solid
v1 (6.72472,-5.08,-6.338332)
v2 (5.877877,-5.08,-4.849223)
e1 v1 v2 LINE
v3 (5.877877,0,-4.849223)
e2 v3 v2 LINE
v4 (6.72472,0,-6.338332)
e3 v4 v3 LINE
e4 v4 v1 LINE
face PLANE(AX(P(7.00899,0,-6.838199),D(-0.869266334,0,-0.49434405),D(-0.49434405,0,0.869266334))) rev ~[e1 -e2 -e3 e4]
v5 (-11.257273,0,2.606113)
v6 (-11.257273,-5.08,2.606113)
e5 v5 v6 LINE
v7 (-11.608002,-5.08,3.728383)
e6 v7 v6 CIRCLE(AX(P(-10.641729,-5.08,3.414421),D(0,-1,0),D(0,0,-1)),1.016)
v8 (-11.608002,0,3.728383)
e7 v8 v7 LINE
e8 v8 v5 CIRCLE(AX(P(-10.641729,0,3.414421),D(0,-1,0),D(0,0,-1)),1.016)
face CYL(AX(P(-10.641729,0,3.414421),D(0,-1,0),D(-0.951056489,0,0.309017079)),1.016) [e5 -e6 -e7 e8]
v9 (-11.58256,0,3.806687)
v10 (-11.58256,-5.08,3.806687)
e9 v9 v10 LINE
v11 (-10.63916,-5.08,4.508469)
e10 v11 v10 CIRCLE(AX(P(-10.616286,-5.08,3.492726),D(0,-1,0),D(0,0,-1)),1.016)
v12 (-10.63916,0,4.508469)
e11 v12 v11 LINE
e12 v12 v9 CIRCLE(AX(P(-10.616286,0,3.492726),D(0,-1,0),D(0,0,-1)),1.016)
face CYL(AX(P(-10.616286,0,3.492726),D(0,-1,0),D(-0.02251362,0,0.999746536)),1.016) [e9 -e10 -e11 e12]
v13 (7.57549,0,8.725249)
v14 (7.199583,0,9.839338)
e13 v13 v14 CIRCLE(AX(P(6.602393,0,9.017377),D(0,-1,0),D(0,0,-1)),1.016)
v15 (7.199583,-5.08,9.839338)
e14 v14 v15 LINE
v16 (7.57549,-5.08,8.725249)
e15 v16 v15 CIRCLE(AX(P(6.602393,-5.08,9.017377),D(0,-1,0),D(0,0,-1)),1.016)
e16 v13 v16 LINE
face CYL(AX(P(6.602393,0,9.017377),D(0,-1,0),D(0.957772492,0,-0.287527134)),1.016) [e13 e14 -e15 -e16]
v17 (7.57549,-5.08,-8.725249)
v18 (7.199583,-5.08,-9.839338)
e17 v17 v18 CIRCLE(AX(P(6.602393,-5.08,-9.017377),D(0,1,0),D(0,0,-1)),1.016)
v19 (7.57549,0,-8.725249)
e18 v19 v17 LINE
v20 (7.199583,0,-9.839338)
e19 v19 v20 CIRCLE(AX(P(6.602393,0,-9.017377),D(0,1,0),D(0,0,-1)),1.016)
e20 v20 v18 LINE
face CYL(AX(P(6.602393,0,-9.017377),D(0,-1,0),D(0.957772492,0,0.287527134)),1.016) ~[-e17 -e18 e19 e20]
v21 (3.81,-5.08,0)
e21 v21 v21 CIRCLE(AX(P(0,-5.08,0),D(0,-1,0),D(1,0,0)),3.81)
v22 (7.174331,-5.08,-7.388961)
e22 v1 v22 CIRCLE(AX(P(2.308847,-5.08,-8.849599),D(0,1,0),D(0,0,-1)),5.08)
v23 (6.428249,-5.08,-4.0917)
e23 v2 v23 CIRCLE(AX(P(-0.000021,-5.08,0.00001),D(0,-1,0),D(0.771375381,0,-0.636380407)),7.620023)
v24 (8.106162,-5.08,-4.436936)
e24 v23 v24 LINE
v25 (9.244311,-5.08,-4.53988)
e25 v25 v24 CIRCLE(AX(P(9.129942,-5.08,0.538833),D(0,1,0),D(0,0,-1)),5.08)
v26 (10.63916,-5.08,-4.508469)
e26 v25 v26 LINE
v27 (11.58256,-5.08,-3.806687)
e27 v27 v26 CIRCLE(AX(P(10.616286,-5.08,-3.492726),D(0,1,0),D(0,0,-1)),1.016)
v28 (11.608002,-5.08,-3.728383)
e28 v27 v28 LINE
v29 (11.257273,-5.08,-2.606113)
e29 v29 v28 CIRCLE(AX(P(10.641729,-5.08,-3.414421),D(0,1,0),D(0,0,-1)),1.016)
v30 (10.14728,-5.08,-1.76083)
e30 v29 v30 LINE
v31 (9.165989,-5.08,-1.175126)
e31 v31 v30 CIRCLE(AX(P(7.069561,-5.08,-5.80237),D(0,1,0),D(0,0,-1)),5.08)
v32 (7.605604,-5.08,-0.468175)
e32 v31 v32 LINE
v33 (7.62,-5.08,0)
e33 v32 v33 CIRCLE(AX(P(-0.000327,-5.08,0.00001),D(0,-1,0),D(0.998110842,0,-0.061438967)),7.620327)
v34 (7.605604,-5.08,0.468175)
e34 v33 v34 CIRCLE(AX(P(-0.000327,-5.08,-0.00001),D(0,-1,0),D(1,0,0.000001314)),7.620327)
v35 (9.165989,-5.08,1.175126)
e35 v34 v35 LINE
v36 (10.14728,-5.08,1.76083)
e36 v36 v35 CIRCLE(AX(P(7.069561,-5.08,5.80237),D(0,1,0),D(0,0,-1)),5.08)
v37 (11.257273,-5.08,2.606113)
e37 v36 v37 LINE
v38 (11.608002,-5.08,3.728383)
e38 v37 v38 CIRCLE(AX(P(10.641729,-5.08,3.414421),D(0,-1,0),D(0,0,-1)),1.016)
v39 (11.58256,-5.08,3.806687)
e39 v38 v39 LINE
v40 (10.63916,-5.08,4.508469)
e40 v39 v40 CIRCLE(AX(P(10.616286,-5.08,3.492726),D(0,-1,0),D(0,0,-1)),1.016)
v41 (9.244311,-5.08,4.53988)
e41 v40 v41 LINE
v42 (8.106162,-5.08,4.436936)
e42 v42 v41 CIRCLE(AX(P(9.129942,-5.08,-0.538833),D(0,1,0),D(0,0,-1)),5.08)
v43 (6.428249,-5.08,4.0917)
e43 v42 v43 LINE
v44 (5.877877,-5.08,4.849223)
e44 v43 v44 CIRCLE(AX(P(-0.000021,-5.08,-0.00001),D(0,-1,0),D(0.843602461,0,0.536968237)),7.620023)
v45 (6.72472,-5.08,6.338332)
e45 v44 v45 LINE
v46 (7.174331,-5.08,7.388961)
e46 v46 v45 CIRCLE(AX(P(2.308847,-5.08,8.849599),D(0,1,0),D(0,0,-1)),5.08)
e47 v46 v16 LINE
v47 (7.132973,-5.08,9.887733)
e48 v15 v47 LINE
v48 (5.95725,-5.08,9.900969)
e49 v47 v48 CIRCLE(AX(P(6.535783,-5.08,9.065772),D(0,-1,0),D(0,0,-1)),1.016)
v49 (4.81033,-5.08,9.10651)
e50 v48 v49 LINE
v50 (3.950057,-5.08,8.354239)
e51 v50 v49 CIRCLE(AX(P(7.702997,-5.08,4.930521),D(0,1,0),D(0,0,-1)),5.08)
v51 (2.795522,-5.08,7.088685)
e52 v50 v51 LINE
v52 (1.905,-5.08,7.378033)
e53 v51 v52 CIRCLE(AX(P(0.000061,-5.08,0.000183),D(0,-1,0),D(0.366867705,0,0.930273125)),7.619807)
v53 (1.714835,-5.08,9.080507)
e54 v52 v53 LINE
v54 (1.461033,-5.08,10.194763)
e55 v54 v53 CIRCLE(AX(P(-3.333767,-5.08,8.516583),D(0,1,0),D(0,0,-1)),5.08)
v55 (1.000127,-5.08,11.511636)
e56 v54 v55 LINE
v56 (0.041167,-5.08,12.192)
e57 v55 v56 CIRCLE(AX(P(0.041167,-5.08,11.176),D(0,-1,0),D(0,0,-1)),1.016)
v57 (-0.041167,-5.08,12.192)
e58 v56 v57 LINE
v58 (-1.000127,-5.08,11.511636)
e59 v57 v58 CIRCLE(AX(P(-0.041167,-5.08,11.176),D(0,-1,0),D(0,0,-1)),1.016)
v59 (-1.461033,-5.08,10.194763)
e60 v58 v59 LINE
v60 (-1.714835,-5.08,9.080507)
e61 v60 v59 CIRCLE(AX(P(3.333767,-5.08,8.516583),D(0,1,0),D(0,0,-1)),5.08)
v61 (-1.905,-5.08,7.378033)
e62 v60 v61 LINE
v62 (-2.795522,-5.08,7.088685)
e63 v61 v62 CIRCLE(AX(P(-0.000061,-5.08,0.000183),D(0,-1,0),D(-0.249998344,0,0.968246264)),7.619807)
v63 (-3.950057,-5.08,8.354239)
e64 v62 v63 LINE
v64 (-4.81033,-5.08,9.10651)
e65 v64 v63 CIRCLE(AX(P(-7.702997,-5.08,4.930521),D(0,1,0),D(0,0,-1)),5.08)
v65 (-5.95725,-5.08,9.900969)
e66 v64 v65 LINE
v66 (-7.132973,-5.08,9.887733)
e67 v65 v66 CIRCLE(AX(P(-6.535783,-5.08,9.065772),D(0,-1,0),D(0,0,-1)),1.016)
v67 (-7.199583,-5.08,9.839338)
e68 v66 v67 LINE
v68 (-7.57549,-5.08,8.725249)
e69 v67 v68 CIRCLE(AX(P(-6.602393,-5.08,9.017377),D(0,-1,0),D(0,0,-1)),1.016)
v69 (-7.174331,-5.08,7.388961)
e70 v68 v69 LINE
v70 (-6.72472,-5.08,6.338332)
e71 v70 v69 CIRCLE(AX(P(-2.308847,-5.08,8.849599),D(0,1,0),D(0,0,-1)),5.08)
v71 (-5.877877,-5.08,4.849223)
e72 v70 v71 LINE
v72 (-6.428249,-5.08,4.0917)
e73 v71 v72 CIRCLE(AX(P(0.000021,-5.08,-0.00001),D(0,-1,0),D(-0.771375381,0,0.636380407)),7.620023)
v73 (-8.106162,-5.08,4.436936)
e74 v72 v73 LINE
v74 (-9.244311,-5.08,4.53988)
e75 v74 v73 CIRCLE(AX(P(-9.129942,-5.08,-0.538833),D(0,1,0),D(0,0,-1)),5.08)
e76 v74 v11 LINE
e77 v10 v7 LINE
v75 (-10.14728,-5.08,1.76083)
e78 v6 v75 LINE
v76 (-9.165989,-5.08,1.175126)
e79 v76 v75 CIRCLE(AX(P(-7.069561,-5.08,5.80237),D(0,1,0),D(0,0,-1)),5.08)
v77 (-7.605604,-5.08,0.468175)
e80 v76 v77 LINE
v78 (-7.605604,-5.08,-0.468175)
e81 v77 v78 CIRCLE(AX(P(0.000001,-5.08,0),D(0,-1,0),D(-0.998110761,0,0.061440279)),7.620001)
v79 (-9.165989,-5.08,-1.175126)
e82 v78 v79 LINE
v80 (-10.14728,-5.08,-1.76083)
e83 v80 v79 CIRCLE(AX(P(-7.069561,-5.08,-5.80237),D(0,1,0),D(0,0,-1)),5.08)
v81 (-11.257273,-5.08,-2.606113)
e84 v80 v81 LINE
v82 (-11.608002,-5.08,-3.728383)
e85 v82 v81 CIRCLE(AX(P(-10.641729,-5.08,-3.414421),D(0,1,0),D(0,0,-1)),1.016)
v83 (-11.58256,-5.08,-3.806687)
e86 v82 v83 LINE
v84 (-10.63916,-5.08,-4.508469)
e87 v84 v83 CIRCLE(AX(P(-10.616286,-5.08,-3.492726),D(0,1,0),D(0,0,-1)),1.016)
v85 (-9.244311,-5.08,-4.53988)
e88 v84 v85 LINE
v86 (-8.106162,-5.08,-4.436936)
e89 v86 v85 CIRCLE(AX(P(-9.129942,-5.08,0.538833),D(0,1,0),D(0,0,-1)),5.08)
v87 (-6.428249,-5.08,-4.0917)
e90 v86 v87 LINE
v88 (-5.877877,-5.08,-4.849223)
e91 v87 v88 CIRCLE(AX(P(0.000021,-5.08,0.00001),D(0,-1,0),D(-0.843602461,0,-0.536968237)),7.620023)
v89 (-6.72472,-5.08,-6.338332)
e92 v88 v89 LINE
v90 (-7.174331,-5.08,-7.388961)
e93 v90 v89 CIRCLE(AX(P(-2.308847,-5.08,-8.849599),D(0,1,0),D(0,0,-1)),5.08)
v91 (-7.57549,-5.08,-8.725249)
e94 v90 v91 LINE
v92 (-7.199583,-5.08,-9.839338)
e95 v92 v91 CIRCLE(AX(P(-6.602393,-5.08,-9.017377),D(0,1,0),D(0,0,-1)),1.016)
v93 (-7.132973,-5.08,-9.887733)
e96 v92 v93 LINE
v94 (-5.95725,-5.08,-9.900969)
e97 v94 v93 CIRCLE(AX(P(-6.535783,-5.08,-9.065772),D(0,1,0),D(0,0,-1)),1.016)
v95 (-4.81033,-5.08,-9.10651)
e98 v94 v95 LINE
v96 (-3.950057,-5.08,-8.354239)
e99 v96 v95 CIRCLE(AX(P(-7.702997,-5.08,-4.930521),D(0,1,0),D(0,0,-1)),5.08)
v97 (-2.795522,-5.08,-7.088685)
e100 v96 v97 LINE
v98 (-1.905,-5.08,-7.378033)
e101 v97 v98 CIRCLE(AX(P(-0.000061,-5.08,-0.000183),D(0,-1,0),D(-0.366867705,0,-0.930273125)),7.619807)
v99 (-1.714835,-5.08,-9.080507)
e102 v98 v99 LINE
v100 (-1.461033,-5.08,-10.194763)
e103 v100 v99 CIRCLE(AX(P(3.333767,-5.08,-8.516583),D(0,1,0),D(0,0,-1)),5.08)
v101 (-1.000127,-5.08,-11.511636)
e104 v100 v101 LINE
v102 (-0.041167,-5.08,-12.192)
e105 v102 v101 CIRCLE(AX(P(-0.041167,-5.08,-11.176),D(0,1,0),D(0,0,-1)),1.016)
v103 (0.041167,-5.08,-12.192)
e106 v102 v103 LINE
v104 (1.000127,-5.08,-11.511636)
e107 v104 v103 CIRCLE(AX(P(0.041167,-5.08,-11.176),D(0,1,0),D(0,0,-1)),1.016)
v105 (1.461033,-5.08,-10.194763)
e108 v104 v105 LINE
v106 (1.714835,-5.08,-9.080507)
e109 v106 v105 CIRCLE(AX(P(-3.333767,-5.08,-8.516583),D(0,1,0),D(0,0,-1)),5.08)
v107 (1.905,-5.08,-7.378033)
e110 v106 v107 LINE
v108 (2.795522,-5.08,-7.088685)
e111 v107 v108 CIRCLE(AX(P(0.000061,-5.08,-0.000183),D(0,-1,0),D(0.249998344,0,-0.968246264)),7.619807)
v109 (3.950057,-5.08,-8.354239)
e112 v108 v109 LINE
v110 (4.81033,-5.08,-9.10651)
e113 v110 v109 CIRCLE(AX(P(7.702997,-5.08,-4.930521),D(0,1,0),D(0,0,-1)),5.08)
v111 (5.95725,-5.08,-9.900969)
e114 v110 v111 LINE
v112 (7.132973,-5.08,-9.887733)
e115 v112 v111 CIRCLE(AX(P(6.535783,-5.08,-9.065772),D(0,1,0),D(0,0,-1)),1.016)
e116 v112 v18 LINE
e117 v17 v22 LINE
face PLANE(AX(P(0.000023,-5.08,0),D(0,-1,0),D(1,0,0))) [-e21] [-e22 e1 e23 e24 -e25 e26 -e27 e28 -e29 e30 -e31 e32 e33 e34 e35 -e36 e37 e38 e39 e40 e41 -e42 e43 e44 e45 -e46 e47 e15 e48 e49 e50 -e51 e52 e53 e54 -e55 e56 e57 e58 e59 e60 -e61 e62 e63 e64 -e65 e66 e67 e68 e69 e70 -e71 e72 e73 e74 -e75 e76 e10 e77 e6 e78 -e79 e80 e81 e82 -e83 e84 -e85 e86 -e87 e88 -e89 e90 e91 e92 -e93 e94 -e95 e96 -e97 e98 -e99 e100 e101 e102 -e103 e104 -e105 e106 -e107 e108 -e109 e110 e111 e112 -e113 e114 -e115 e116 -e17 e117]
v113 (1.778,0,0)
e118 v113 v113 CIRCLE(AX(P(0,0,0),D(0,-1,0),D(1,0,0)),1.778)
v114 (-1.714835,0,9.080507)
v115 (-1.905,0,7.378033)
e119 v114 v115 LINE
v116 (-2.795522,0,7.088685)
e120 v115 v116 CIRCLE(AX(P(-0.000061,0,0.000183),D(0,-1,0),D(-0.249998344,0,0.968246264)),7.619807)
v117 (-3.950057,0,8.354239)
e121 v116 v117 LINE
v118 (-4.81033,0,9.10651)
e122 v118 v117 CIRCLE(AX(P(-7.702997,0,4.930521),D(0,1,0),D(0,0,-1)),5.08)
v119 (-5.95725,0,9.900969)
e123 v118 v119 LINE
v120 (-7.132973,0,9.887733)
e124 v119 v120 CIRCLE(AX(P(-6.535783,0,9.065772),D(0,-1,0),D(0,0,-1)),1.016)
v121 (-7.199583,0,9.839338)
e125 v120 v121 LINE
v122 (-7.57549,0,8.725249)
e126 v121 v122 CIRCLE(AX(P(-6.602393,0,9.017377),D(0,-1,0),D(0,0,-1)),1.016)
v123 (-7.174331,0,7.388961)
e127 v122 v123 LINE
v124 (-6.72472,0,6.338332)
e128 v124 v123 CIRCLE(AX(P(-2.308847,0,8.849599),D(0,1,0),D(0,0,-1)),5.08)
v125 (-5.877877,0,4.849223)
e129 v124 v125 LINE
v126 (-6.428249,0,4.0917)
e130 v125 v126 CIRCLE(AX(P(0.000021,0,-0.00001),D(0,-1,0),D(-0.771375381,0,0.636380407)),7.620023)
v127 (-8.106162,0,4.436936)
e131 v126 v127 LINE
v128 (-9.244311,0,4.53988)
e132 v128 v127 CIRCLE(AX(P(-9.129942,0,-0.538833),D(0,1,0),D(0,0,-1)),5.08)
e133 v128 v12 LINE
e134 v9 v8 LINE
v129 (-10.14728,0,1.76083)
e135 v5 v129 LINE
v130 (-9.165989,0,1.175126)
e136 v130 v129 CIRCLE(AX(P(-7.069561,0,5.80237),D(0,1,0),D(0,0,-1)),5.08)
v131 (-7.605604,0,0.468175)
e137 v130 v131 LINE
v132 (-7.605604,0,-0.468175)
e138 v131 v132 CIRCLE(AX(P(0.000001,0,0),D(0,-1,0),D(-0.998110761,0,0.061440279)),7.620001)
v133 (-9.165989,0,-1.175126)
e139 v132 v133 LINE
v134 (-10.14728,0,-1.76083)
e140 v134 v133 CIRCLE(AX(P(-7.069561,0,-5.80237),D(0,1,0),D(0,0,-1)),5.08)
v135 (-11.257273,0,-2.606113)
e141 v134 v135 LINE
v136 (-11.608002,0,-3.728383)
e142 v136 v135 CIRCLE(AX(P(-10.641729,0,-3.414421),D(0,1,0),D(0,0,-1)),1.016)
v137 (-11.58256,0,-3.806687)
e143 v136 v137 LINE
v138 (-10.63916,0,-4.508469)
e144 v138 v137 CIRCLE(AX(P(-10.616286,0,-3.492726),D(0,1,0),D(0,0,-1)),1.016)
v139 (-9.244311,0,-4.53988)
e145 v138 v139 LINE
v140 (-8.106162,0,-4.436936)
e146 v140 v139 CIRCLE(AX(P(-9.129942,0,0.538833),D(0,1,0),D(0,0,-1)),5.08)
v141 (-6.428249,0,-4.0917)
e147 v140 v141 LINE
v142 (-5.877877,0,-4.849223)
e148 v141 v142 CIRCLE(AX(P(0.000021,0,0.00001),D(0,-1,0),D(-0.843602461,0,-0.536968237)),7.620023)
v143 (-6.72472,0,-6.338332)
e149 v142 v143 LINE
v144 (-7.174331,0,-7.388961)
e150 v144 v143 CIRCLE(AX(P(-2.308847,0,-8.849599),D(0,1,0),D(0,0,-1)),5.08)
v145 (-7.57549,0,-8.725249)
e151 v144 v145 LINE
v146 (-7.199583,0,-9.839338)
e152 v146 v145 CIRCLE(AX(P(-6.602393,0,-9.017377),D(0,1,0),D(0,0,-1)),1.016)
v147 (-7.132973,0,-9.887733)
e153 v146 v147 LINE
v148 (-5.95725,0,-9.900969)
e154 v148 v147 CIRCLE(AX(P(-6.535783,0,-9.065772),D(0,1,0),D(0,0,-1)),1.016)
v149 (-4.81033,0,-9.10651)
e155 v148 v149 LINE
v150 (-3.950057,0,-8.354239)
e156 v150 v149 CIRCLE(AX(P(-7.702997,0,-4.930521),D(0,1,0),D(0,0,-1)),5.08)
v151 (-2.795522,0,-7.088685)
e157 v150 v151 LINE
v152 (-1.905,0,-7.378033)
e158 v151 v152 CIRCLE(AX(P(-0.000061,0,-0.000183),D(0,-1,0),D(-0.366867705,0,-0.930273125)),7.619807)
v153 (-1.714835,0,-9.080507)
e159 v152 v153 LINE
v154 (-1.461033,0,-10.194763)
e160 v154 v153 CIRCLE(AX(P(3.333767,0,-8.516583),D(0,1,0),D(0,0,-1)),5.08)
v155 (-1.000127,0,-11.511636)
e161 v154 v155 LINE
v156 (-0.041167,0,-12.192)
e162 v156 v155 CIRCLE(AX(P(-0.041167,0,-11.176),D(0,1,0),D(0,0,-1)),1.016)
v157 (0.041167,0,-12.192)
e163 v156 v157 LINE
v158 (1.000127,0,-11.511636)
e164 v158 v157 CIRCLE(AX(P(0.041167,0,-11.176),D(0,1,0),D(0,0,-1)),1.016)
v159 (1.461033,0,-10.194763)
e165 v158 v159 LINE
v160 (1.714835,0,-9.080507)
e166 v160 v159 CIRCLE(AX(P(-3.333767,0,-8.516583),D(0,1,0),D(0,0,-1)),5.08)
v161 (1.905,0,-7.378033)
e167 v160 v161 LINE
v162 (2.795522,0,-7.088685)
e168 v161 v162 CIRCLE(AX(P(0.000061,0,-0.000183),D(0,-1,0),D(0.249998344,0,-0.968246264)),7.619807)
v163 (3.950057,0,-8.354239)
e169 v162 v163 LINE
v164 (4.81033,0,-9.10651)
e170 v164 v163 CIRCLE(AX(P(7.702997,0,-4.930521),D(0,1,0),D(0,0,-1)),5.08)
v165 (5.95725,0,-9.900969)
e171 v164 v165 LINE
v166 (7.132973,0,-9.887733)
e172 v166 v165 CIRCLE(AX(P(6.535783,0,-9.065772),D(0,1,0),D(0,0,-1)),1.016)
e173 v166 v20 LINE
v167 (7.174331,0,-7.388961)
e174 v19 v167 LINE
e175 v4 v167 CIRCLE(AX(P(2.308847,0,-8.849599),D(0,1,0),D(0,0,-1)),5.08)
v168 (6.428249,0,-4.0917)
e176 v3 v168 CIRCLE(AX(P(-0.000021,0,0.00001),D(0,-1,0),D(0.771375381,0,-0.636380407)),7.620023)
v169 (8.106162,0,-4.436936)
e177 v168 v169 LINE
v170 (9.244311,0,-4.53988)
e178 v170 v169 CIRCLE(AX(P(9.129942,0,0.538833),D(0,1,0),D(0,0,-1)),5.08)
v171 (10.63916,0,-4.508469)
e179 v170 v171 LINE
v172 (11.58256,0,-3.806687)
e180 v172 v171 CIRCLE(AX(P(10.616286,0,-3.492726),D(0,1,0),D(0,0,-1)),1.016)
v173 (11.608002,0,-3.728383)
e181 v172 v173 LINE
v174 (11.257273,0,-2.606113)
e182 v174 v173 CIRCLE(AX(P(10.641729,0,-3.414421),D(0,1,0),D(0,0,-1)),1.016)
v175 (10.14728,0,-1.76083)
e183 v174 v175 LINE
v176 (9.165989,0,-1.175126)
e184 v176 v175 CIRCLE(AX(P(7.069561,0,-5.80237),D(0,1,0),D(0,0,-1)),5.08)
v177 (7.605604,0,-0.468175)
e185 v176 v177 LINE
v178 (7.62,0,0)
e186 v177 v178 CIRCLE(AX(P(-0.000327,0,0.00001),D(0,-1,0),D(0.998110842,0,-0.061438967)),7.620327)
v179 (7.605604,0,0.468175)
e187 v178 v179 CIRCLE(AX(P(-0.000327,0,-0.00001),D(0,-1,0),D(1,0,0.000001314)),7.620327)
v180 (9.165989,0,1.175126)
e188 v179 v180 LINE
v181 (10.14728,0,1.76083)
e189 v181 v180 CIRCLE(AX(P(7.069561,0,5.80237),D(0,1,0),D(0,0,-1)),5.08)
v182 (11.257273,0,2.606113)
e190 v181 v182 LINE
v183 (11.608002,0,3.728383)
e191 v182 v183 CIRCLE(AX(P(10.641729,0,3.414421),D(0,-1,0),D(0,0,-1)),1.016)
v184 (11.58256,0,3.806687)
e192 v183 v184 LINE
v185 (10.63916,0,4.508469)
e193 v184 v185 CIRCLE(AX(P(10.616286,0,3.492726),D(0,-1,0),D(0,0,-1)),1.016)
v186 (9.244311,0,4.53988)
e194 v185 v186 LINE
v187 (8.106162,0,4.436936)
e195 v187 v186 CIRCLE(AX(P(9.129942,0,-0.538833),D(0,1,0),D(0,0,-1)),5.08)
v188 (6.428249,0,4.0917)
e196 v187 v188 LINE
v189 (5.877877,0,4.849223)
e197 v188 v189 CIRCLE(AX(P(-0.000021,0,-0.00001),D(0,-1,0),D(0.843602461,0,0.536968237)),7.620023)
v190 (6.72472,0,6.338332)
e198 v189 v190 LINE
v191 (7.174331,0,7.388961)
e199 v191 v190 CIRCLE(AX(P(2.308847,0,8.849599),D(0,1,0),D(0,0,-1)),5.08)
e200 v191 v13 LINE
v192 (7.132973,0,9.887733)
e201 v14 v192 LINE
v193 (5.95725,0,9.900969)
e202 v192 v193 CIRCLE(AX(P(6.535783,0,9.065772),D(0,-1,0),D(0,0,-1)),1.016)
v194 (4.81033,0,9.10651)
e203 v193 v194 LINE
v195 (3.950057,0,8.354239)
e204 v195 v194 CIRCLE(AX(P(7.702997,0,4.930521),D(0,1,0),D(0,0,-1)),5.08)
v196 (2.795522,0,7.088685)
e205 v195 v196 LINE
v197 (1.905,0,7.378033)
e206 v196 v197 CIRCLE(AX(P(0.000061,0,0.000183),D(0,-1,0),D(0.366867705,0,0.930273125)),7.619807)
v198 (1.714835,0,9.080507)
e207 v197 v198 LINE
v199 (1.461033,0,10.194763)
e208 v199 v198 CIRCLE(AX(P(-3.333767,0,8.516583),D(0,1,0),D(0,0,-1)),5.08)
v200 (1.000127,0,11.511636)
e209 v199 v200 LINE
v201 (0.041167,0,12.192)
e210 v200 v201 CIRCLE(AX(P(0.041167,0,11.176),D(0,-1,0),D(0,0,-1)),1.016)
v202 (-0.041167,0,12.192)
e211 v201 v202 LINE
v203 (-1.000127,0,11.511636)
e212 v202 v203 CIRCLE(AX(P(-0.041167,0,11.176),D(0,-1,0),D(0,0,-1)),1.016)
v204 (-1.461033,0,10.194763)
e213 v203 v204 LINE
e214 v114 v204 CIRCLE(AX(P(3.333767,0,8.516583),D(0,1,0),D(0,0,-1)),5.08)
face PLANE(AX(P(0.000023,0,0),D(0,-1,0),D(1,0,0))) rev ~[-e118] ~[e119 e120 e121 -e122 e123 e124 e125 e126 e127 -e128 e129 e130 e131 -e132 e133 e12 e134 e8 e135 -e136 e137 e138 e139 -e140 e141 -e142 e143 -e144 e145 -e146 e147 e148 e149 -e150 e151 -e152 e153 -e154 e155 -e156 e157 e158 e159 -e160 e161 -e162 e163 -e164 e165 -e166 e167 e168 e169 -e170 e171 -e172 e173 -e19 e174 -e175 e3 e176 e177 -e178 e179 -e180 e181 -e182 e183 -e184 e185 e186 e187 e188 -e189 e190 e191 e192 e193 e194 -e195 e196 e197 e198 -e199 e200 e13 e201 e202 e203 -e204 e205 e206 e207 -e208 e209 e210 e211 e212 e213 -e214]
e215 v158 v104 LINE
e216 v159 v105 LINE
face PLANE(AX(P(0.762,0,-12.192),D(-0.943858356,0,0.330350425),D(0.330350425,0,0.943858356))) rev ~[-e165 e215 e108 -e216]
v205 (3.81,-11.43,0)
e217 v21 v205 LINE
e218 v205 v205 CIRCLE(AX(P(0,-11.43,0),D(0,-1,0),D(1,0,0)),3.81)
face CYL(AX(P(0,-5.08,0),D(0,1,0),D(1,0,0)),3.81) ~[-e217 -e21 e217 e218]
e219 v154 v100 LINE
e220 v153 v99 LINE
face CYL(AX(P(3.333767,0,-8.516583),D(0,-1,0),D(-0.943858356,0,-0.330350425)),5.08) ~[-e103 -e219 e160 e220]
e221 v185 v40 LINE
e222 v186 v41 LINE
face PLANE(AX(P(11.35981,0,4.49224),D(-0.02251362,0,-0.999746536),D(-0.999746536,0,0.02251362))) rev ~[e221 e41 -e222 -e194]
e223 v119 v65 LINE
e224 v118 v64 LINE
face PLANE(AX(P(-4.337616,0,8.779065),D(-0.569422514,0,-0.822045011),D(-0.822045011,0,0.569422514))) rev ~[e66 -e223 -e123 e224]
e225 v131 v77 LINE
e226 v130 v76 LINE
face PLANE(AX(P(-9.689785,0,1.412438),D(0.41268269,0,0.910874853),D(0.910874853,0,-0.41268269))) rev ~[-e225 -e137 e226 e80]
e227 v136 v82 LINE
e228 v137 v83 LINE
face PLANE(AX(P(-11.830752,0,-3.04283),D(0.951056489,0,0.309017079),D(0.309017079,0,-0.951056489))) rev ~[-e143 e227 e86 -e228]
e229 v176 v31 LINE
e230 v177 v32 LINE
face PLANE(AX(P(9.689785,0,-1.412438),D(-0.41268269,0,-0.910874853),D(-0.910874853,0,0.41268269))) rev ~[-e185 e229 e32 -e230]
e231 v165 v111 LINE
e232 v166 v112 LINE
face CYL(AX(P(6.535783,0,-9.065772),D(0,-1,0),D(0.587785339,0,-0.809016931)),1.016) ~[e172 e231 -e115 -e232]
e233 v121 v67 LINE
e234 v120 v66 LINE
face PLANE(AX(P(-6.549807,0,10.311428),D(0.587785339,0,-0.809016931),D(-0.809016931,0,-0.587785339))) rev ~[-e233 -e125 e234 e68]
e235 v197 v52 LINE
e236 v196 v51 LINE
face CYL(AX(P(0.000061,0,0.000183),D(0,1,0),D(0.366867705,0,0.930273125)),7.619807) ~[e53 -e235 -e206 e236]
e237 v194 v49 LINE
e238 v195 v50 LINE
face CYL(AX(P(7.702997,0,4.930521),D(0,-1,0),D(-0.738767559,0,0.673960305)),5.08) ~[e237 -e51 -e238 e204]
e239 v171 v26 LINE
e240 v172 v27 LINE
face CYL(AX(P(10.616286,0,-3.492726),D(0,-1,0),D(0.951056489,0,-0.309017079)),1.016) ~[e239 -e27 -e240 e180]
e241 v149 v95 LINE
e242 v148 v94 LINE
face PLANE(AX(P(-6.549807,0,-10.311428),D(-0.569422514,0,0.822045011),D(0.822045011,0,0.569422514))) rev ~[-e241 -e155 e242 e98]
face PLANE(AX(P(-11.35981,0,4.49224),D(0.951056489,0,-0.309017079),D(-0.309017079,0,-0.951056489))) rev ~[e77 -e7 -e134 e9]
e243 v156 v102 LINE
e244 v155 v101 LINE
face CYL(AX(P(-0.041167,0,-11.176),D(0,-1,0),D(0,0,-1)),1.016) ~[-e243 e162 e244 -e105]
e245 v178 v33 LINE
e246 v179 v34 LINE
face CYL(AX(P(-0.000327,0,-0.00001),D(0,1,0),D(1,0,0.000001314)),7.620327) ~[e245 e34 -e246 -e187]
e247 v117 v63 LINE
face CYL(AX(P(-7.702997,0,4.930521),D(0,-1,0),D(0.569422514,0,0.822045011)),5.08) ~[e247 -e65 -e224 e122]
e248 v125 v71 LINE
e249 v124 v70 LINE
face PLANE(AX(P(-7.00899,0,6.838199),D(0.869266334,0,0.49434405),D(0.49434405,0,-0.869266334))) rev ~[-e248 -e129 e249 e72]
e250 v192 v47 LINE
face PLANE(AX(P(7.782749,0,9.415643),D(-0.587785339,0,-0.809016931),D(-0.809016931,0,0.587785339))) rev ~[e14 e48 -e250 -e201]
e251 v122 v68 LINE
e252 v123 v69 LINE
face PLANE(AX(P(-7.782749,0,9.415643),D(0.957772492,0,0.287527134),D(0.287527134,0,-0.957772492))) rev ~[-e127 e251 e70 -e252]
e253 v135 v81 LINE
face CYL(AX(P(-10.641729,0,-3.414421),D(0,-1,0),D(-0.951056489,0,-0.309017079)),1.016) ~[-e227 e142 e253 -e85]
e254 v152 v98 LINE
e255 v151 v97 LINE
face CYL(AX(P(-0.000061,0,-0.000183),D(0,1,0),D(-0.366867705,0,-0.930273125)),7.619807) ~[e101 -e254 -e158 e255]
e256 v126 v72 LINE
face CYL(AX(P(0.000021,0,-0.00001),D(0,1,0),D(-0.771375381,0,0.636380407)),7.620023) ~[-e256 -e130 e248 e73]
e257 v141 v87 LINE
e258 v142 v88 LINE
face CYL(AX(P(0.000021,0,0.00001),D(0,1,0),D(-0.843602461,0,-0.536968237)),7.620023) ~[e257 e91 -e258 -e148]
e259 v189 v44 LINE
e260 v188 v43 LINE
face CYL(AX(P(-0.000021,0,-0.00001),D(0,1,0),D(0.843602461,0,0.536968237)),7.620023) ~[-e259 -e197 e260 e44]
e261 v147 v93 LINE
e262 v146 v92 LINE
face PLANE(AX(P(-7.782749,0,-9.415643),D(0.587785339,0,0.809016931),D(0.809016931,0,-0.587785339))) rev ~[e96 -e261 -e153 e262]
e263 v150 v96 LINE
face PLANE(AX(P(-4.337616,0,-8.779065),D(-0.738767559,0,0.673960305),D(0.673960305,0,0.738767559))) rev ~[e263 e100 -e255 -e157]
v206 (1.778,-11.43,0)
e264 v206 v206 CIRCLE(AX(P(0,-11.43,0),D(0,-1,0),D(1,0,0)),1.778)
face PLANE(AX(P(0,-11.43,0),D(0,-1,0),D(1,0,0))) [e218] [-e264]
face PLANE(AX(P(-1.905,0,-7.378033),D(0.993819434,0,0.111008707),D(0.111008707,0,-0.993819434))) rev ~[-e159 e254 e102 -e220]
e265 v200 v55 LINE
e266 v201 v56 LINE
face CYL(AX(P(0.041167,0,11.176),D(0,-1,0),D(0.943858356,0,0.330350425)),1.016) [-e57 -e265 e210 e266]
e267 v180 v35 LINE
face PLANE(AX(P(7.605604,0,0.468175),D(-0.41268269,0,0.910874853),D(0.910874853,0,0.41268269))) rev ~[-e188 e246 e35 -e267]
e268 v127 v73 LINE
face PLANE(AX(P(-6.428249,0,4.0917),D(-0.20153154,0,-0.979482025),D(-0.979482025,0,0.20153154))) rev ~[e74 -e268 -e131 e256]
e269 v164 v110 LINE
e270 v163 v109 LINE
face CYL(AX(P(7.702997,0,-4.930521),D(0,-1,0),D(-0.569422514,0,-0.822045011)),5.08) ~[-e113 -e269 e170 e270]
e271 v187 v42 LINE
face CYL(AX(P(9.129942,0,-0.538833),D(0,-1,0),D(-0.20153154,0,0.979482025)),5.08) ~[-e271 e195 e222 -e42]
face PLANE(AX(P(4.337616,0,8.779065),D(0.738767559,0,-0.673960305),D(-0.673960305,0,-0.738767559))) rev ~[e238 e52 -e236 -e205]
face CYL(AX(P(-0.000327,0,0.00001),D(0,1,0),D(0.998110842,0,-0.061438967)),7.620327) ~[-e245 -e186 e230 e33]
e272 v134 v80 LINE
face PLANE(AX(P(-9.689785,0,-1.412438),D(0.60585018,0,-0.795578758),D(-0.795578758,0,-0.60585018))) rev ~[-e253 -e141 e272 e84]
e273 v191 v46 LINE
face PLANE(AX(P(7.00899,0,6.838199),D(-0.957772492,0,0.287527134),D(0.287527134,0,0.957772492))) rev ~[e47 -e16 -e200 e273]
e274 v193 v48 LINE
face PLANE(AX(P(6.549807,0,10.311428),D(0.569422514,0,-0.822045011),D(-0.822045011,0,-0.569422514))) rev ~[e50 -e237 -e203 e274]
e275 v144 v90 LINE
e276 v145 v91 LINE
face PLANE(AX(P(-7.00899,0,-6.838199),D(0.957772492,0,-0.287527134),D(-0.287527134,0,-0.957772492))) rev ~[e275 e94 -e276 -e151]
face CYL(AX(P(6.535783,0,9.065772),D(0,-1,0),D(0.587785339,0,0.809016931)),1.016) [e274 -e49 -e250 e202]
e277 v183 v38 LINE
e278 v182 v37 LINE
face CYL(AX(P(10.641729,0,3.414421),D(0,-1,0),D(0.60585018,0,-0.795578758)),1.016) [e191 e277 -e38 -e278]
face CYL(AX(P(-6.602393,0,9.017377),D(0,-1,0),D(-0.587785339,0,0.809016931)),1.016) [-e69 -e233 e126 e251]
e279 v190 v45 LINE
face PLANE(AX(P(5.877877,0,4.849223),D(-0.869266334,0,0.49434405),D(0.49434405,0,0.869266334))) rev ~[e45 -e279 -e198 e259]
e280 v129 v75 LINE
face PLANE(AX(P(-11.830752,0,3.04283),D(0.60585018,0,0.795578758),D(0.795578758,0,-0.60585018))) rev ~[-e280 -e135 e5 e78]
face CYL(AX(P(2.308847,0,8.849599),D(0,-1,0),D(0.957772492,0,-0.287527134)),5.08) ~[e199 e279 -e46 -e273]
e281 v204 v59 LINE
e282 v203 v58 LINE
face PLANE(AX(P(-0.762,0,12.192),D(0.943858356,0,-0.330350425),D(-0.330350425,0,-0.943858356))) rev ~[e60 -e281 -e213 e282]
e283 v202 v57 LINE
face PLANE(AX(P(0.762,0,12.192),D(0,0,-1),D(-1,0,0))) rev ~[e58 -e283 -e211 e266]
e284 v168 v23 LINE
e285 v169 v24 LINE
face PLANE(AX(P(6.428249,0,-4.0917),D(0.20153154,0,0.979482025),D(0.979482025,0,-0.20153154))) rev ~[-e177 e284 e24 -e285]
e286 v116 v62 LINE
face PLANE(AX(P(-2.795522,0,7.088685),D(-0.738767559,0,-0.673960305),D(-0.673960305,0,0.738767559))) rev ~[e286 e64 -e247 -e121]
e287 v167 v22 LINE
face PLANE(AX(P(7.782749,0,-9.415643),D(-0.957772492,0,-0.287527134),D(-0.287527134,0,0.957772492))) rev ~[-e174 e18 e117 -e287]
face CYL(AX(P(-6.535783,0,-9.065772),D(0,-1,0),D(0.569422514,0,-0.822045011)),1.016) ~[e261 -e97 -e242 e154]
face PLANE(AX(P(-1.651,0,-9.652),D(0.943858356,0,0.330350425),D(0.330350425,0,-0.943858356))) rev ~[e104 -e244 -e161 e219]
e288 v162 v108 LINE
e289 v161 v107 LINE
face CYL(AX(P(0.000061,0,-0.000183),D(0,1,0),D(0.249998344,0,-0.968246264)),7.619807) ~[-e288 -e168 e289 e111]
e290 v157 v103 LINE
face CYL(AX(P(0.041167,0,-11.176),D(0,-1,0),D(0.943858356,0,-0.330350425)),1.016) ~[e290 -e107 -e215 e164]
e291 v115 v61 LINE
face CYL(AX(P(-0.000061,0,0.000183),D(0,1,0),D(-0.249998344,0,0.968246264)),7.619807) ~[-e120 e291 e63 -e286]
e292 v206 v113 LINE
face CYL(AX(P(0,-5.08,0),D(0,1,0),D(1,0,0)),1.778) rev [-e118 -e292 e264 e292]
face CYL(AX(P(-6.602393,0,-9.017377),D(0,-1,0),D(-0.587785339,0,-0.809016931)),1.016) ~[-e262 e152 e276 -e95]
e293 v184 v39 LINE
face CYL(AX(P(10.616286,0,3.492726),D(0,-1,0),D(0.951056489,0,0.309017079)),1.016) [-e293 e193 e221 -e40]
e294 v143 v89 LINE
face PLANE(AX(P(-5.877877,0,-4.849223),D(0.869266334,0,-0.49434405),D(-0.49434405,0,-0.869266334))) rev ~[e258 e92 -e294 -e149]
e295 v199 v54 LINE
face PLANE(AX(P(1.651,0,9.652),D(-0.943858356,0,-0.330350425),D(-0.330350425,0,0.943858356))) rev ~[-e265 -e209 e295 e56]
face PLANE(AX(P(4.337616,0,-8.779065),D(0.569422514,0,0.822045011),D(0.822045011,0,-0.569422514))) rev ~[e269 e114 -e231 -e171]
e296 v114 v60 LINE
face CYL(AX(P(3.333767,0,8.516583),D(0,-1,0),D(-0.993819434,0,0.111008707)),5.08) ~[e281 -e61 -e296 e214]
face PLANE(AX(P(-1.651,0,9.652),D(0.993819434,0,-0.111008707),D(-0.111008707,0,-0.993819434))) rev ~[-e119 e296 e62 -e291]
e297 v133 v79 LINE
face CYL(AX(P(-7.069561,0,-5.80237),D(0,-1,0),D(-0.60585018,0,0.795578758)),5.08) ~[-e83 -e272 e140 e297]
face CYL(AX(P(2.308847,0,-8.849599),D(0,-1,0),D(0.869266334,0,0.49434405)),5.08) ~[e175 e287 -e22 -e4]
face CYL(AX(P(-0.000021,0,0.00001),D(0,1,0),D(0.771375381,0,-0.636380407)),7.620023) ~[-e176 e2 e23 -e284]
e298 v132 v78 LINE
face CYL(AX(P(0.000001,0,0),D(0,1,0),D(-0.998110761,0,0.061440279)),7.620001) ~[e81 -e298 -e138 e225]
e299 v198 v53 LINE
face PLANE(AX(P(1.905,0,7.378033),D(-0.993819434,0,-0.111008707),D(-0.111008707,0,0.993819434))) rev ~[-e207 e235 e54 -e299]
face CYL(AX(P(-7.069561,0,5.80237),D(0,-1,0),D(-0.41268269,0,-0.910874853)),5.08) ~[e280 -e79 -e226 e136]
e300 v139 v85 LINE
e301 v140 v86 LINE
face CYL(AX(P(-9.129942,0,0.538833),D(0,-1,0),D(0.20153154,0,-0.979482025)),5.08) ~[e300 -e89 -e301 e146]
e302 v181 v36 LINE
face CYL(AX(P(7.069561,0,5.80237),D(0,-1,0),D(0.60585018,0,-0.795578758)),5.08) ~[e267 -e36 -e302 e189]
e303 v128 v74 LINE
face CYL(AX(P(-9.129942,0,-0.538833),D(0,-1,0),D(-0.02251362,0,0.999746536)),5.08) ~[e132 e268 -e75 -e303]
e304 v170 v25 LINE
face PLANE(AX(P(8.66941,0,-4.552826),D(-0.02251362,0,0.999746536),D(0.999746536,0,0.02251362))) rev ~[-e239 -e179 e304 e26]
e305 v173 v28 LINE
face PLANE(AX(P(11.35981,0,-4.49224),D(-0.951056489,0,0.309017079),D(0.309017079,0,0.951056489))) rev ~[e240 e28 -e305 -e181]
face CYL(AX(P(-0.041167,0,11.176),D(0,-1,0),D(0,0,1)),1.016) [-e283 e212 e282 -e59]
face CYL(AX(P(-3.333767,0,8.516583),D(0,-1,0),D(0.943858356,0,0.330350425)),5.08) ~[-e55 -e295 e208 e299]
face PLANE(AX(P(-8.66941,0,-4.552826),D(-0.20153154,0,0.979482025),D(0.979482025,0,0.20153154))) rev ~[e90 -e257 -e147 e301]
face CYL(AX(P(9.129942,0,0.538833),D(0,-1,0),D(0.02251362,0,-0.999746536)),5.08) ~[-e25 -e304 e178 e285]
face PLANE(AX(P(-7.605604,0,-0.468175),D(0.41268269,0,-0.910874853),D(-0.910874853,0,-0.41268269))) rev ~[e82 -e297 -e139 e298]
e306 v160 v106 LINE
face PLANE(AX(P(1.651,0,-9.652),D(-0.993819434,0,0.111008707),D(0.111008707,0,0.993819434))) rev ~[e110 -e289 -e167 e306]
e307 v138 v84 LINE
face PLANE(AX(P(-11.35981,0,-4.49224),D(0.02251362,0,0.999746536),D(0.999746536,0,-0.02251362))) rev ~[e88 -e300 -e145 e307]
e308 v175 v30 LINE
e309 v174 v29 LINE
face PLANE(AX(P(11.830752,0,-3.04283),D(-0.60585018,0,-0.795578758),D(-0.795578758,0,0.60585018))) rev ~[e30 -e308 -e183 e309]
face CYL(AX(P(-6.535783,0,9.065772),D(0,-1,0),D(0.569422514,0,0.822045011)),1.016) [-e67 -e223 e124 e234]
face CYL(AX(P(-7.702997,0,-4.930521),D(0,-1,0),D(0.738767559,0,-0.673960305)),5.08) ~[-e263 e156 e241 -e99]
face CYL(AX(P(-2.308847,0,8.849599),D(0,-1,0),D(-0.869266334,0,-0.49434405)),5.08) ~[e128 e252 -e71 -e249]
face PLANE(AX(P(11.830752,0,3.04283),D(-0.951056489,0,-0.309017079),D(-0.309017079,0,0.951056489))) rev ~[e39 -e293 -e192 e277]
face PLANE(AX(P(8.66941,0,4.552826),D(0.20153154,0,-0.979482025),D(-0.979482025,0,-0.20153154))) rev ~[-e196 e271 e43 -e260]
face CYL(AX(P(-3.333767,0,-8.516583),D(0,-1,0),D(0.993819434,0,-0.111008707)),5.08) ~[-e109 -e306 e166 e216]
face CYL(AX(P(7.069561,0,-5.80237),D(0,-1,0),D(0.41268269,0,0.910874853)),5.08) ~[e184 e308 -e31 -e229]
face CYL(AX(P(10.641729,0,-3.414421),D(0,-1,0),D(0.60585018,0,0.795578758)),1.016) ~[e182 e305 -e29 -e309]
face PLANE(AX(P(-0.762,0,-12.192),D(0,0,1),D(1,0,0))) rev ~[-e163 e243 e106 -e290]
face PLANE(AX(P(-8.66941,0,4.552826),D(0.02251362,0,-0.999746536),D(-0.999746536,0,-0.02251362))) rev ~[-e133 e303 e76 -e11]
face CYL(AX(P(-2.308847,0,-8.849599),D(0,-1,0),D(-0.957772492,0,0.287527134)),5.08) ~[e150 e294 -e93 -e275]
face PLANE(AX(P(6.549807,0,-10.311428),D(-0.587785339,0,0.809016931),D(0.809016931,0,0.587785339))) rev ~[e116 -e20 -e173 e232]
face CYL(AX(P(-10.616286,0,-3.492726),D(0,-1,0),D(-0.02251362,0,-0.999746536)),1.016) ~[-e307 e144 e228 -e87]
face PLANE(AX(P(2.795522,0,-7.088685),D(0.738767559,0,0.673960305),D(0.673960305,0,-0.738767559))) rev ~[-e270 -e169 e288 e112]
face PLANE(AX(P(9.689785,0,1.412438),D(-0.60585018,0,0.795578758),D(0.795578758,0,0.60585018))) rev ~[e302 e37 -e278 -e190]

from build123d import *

# Parameters (mm, degrees)
F0_R     = 1.778
F1_DEPTH = 5.08
F2_R     = 3.81
F2_R_2   = 1.778
F3_DEPTH = 6.35
F4_R     = 5.08
F5_R     = 1.016


with BuildPart() as f1:
    # F0 (on Front) → F1 (new body)
    with BuildSketch(Plane.XZ):
        with BuildLine():
            ThreePointArc((7.605604, -0.468175), (7.6164, -0.234198), (7.62, 0))
            ThreePointArc((7.62, 0), (7.6164, 0.234198), (7.605604, 0.468175))
            ThreePointArc((7.605604, 0.468175), (7.247051, 2.354709), (6.428249, 4.0917))
            ThreePointArc((6.428249, 4.0917), (6.164709, 4.478924), (5.877877, 4.849223))
            ThreePointArc((5.877877, 4.849223), (4.478924, 6.164709), (2.795522, 7.088685))
            ThreePointArc((2.795522, 7.088685), (2.354709, 7.247051), (1.905, 7.378033))
            ThreePointArc((1.905, 7.378033), (0, 7.62), (-1.905, 7.378033))
            ThreePointArc((-1.905, 7.378033), (-2.354709, 7.247051), (-2.795522, 7.088685))
            ThreePointArc((-2.795522, 7.088685), (-4.478924, 6.164709), (-5.877877, 4.849223))
            ThreePointArc((-5.877877, 4.849223), (-6.164709, 4.478924), (-6.428249, 4.0917))
            ThreePointArc((-6.428249, 4.0917), (-7.247051, 2.354709), (-7.605604, 0.468175))
            ThreePointArc((-7.605604, 0.468175), (-7.62, 0), (-7.605604, -0.468175))
            ThreePointArc((-7.605604, -0.468175), (-7.247051, -2.354709), (-6.428249, -4.0917))
            ThreePointArc((-6.428249, -4.0917), (-6.164709, -4.478924), (-5.877877, -4.849223))
            ThreePointArc((-5.877877, -4.849223), (-4.478924, -6.164709), (-2.795522, -7.088685))
            ThreePointArc((-2.795522, -7.088685), (-2.354709, -7.247051), (-1.905, -7.378033))
            ThreePointArc((-1.905, -7.378033), (0, -7.62), (1.905, -7.378033))
            ThreePointArc((1.905, -7.378033), (2.354709, -7.247051), (2.795522, -7.088685))
            ThreePointArc((2.795522, -7.088685), (4.478924, -6.164709), (5.877877, -4.849223))
            ThreePointArc((5.877877, -4.849223), (6.164709, -4.478924), (6.428249, -4.0917))
            ThreePointArc((6.428249, -4.0917), (7.247051, -2.354709), (7.605604, -0.468175))
        make_face()
        Circle(F0_R, mode=Mode.SUBTRACT)
        with BuildLine():
            ThreePointArc((6.428249, 4.0917), (7.247051, 2.354709), (7.605604, 0.468175))
            Line((7.605604, 0.468175), (9.689785, 1.412438))
            Line((9.689785, 1.412438), (11.830752, 3.04283))
            Line((11.830752, 3.04283), (11.35981, 4.49224))
            Line((11.35981, 4.49224), (8.66941, 4.552826))
            Line((8.66941, 4.552826), (6.428249, 4.0917))
        make_face()
        with BuildLine():
            Line((9.689785, -1.412438), (7.605604, -0.468175))
            ThreePointArc((7.605604, -0.468175), (7.247051, -2.354709), (6.428249, -4.0917))
            Line((6.428249, -4.0917), (8.66941, -4.552826))
            Line((8.66941, -4.552826), (11.35981, -4.49224))
            Line((11.35981, -4.49224), (11.830752, -3.04283))
            Line((11.830752, -3.04283), (9.689785, -1.412438))
        make_face()
        with BuildLine():
            ThreePointArc((2.795522, 7.088685), (4.478924, 6.164709), (5.877877, 4.849223))
            Line((5.877877, 4.849223), (7.00899, 6.838199))
            Line((7.00899, 6.838199), (7.782749, 9.415643))
            Line((7.782749, 9.415643), (6.549807, 10.311428))
            Line((6.549807, 10.311428), (4.337616, 8.779065))
            Line((4.337616, 8.779065), (2.795522, 7.088685))
        make_face()
        with BuildLine():
            Line((7.00899, -6.838199), (5.877877, -4.849223))
            ThreePointArc((5.877877, -4.849223), (4.478924, -6.164709), (2.795522, -7.088685))
            Line((2.795522, -7.088685), (4.337616, -8.779065))
            Line((4.337616, -8.779065), (6.549807, -10.311428))
            Line((6.549807, -10.311428), (7.782749, -9.415643))
            Line((7.782749, -9.415643), (7.00899, -6.838199))
        make_face()
        with BuildLine():
            ThreePointArc((-1.905, 7.378033), (0, 7.62), (1.905, 7.378033))
            Line((1.905, 7.378033), (1.651, 9.652))
            Line((1.651, 9.652), (0.762, 12.192))
            Line((0.762, 12.192), (-0.762, 12.192))
            Line((-0.762, 12.192), (-1.651, 9.652))
            Line((-1.651, 9.652), (-1.905, 7.378033))
        make_face()
        with BuildLine():
            Line((1.651, -9.652), (1.905, -7.378033))
            ThreePointArc((1.905, -7.378033), (0, -7.62), (-1.905, -7.378033))
            Line((-1.905, -7.378033), (-1.651, -9.652))
            Line((-1.651, -9.652), (-0.762, -12.192))
            Line((-0.762, -12.192), (0.762, -12.192))
            Line((0.762, -12.192), (1.651, -9.652))
        make_face()
        with BuildLine():
            ThreePointArc((-5.877877, 4.849223), (-4.478924, 6.164709), (-2.795522, 7.088685))
            Line((-2.795522, 7.088685), (-4.337616, 8.779065))
            Line((-4.337616, 8.779065), (-6.549807, 10.311428))
            Line((-6.549807, 10.311428), (-7.782749, 9.415643))
            Line((-7.782749, 9.415643), (-7.00899, 6.838199))
            Line((-7.00899, 6.838199), (-5.877877, 4.849223))
        make_face()
        with BuildLine():
            Line((-4.337616, -8.779065), (-2.795522, -7.088685))
            ThreePointArc((-2.795522, -7.088685), (-4.478924, -6.164709), (-5.877877, -4.849223))
            Line((-5.877877, -4.849223), (-7.00899, -6.838199))
            Line((-7.00899, -6.838199), (-7.782749, -9.415643))
            Line((-7.782749, -9.415643), (-6.549807, -10.311428))
            Line((-6.549807, -10.311428), (-4.337616, -8.779065))
        make_face()
        with BuildLine():
            ThreePointArc((-7.605604, 0.468175), (-7.247051, 2.354709), (-6.428249, 4.0917))
            Line((-6.428249, 4.0917), (-8.66941, 4.552826))
            Line((-8.66941, 4.552826), (-11.35981, 4.49224))
            Line((-11.35981, 4.49224), (-11.830752, 3.04283))
            Line((-11.830752, 3.04283), (-9.689785, 1.412438))
            Line((-9.689785, 1.412438), (-7.605604, 0.468175))
        make_face()
        with BuildLine():
            Line((-8.66941, -4.552826), (-6.428249, -4.0917))
            ThreePointArc((-6.428249, -4.0917), (-7.247051, -2.354709), (-7.605604, -0.468175))
            Line((-7.605604, -0.468175), (-9.689785, -1.412438))
            Line((-9.689785, -1.412438), (-11.830752, -3.04283))
            Line((-11.830752, -3.04283), (-11.35981, -4.49224))
            Line((-11.35981, -4.49224), (-8.66941, -4.552826))
        make_face()
    extrude(amount=F1_DEPTH)

    # F2 (on face) → F3 (join)
    with BuildSketch(Plane.XZ.offset(5.08)):
        Circle(F2_R)
        Circle(F2_R_2, mode=Mode.SUBTRACT)
    extrude(amount=F3_DEPTH)

    # F4
    f4_edges = [f1.edges().sort_by_distance(p)[0] for p in [
        (7.00899, -2.54, 6.838199),
        (4.337616, -2.54, 8.779065),
        (1.651, -2.54, 9.652),
        (-4.337616, -2.54, 8.779065),
        (-8.66941, -2.54, 4.552826),
        (-9.689785, -2.54, -1.412438),
        (-7.00899, -2.54, -6.838199),
        (-1.651, -2.54, -9.652),
        (4.337616, -2.54, -8.779065),
        (8.66941, -2.54, -4.552826),
        (9.689785, -2.54, 1.412438),
        (9.689785, -2.54, -1.412438),
        (8.66941, -2.54, 4.552826),
        (-1.651, -2.54, 9.652),
        (-7.00899, -2.54, 6.838199),
        (-9.689785, -2.54, 1.412438),
        (-8.66941, -2.54, -4.552826),
        (-4.337616, -2.54, -8.779065),
        (1.651, -2.54, -9.652),
        (7.00899, -2.54, -6.838199),
    ]]
    fillet(f4_edges, radius=F4_R)

    # F5
    f5_edges = [f1.edges().sort_by_distance(p)[0] for p in [
        (0.762, -2.54, 12.192),
        (-0.762, -2.54, 12.192),
        (-6.549807, -2.54, 10.311428),
        (-7.782749, -2.54, 9.415643),
        (-11.35981, -2.54, 4.49224),
        (6.549807, -2.54, 10.311428),
        (7.782749, -2.54, 9.415643),
        (11.35981, -2.54, 4.49224),
        (-11.830752, -2.54, 3.04283),
        (-11.830752, -2.54, -3.04283),
        (-11.35981, -2.54, -4.49224),
        (-7.782749, -2.54, -9.415643),
        (-6.549807, -2.54, -10.311428),
        (-0.762, -2.54, -12.192),
        (0.762, -2.54, -12.192),
        (6.549807, -2.54, -10.311428),
        (7.782749, -2.54, -9.415643),
        (11.830752, -2.54, -3.04283),
        (11.35981, -2.54, -4.49224),
        (11.830752, -2.54, 3.04283),
    ]]
    fillet(f5_edges, radius=F5_R)


solid = f1.part
